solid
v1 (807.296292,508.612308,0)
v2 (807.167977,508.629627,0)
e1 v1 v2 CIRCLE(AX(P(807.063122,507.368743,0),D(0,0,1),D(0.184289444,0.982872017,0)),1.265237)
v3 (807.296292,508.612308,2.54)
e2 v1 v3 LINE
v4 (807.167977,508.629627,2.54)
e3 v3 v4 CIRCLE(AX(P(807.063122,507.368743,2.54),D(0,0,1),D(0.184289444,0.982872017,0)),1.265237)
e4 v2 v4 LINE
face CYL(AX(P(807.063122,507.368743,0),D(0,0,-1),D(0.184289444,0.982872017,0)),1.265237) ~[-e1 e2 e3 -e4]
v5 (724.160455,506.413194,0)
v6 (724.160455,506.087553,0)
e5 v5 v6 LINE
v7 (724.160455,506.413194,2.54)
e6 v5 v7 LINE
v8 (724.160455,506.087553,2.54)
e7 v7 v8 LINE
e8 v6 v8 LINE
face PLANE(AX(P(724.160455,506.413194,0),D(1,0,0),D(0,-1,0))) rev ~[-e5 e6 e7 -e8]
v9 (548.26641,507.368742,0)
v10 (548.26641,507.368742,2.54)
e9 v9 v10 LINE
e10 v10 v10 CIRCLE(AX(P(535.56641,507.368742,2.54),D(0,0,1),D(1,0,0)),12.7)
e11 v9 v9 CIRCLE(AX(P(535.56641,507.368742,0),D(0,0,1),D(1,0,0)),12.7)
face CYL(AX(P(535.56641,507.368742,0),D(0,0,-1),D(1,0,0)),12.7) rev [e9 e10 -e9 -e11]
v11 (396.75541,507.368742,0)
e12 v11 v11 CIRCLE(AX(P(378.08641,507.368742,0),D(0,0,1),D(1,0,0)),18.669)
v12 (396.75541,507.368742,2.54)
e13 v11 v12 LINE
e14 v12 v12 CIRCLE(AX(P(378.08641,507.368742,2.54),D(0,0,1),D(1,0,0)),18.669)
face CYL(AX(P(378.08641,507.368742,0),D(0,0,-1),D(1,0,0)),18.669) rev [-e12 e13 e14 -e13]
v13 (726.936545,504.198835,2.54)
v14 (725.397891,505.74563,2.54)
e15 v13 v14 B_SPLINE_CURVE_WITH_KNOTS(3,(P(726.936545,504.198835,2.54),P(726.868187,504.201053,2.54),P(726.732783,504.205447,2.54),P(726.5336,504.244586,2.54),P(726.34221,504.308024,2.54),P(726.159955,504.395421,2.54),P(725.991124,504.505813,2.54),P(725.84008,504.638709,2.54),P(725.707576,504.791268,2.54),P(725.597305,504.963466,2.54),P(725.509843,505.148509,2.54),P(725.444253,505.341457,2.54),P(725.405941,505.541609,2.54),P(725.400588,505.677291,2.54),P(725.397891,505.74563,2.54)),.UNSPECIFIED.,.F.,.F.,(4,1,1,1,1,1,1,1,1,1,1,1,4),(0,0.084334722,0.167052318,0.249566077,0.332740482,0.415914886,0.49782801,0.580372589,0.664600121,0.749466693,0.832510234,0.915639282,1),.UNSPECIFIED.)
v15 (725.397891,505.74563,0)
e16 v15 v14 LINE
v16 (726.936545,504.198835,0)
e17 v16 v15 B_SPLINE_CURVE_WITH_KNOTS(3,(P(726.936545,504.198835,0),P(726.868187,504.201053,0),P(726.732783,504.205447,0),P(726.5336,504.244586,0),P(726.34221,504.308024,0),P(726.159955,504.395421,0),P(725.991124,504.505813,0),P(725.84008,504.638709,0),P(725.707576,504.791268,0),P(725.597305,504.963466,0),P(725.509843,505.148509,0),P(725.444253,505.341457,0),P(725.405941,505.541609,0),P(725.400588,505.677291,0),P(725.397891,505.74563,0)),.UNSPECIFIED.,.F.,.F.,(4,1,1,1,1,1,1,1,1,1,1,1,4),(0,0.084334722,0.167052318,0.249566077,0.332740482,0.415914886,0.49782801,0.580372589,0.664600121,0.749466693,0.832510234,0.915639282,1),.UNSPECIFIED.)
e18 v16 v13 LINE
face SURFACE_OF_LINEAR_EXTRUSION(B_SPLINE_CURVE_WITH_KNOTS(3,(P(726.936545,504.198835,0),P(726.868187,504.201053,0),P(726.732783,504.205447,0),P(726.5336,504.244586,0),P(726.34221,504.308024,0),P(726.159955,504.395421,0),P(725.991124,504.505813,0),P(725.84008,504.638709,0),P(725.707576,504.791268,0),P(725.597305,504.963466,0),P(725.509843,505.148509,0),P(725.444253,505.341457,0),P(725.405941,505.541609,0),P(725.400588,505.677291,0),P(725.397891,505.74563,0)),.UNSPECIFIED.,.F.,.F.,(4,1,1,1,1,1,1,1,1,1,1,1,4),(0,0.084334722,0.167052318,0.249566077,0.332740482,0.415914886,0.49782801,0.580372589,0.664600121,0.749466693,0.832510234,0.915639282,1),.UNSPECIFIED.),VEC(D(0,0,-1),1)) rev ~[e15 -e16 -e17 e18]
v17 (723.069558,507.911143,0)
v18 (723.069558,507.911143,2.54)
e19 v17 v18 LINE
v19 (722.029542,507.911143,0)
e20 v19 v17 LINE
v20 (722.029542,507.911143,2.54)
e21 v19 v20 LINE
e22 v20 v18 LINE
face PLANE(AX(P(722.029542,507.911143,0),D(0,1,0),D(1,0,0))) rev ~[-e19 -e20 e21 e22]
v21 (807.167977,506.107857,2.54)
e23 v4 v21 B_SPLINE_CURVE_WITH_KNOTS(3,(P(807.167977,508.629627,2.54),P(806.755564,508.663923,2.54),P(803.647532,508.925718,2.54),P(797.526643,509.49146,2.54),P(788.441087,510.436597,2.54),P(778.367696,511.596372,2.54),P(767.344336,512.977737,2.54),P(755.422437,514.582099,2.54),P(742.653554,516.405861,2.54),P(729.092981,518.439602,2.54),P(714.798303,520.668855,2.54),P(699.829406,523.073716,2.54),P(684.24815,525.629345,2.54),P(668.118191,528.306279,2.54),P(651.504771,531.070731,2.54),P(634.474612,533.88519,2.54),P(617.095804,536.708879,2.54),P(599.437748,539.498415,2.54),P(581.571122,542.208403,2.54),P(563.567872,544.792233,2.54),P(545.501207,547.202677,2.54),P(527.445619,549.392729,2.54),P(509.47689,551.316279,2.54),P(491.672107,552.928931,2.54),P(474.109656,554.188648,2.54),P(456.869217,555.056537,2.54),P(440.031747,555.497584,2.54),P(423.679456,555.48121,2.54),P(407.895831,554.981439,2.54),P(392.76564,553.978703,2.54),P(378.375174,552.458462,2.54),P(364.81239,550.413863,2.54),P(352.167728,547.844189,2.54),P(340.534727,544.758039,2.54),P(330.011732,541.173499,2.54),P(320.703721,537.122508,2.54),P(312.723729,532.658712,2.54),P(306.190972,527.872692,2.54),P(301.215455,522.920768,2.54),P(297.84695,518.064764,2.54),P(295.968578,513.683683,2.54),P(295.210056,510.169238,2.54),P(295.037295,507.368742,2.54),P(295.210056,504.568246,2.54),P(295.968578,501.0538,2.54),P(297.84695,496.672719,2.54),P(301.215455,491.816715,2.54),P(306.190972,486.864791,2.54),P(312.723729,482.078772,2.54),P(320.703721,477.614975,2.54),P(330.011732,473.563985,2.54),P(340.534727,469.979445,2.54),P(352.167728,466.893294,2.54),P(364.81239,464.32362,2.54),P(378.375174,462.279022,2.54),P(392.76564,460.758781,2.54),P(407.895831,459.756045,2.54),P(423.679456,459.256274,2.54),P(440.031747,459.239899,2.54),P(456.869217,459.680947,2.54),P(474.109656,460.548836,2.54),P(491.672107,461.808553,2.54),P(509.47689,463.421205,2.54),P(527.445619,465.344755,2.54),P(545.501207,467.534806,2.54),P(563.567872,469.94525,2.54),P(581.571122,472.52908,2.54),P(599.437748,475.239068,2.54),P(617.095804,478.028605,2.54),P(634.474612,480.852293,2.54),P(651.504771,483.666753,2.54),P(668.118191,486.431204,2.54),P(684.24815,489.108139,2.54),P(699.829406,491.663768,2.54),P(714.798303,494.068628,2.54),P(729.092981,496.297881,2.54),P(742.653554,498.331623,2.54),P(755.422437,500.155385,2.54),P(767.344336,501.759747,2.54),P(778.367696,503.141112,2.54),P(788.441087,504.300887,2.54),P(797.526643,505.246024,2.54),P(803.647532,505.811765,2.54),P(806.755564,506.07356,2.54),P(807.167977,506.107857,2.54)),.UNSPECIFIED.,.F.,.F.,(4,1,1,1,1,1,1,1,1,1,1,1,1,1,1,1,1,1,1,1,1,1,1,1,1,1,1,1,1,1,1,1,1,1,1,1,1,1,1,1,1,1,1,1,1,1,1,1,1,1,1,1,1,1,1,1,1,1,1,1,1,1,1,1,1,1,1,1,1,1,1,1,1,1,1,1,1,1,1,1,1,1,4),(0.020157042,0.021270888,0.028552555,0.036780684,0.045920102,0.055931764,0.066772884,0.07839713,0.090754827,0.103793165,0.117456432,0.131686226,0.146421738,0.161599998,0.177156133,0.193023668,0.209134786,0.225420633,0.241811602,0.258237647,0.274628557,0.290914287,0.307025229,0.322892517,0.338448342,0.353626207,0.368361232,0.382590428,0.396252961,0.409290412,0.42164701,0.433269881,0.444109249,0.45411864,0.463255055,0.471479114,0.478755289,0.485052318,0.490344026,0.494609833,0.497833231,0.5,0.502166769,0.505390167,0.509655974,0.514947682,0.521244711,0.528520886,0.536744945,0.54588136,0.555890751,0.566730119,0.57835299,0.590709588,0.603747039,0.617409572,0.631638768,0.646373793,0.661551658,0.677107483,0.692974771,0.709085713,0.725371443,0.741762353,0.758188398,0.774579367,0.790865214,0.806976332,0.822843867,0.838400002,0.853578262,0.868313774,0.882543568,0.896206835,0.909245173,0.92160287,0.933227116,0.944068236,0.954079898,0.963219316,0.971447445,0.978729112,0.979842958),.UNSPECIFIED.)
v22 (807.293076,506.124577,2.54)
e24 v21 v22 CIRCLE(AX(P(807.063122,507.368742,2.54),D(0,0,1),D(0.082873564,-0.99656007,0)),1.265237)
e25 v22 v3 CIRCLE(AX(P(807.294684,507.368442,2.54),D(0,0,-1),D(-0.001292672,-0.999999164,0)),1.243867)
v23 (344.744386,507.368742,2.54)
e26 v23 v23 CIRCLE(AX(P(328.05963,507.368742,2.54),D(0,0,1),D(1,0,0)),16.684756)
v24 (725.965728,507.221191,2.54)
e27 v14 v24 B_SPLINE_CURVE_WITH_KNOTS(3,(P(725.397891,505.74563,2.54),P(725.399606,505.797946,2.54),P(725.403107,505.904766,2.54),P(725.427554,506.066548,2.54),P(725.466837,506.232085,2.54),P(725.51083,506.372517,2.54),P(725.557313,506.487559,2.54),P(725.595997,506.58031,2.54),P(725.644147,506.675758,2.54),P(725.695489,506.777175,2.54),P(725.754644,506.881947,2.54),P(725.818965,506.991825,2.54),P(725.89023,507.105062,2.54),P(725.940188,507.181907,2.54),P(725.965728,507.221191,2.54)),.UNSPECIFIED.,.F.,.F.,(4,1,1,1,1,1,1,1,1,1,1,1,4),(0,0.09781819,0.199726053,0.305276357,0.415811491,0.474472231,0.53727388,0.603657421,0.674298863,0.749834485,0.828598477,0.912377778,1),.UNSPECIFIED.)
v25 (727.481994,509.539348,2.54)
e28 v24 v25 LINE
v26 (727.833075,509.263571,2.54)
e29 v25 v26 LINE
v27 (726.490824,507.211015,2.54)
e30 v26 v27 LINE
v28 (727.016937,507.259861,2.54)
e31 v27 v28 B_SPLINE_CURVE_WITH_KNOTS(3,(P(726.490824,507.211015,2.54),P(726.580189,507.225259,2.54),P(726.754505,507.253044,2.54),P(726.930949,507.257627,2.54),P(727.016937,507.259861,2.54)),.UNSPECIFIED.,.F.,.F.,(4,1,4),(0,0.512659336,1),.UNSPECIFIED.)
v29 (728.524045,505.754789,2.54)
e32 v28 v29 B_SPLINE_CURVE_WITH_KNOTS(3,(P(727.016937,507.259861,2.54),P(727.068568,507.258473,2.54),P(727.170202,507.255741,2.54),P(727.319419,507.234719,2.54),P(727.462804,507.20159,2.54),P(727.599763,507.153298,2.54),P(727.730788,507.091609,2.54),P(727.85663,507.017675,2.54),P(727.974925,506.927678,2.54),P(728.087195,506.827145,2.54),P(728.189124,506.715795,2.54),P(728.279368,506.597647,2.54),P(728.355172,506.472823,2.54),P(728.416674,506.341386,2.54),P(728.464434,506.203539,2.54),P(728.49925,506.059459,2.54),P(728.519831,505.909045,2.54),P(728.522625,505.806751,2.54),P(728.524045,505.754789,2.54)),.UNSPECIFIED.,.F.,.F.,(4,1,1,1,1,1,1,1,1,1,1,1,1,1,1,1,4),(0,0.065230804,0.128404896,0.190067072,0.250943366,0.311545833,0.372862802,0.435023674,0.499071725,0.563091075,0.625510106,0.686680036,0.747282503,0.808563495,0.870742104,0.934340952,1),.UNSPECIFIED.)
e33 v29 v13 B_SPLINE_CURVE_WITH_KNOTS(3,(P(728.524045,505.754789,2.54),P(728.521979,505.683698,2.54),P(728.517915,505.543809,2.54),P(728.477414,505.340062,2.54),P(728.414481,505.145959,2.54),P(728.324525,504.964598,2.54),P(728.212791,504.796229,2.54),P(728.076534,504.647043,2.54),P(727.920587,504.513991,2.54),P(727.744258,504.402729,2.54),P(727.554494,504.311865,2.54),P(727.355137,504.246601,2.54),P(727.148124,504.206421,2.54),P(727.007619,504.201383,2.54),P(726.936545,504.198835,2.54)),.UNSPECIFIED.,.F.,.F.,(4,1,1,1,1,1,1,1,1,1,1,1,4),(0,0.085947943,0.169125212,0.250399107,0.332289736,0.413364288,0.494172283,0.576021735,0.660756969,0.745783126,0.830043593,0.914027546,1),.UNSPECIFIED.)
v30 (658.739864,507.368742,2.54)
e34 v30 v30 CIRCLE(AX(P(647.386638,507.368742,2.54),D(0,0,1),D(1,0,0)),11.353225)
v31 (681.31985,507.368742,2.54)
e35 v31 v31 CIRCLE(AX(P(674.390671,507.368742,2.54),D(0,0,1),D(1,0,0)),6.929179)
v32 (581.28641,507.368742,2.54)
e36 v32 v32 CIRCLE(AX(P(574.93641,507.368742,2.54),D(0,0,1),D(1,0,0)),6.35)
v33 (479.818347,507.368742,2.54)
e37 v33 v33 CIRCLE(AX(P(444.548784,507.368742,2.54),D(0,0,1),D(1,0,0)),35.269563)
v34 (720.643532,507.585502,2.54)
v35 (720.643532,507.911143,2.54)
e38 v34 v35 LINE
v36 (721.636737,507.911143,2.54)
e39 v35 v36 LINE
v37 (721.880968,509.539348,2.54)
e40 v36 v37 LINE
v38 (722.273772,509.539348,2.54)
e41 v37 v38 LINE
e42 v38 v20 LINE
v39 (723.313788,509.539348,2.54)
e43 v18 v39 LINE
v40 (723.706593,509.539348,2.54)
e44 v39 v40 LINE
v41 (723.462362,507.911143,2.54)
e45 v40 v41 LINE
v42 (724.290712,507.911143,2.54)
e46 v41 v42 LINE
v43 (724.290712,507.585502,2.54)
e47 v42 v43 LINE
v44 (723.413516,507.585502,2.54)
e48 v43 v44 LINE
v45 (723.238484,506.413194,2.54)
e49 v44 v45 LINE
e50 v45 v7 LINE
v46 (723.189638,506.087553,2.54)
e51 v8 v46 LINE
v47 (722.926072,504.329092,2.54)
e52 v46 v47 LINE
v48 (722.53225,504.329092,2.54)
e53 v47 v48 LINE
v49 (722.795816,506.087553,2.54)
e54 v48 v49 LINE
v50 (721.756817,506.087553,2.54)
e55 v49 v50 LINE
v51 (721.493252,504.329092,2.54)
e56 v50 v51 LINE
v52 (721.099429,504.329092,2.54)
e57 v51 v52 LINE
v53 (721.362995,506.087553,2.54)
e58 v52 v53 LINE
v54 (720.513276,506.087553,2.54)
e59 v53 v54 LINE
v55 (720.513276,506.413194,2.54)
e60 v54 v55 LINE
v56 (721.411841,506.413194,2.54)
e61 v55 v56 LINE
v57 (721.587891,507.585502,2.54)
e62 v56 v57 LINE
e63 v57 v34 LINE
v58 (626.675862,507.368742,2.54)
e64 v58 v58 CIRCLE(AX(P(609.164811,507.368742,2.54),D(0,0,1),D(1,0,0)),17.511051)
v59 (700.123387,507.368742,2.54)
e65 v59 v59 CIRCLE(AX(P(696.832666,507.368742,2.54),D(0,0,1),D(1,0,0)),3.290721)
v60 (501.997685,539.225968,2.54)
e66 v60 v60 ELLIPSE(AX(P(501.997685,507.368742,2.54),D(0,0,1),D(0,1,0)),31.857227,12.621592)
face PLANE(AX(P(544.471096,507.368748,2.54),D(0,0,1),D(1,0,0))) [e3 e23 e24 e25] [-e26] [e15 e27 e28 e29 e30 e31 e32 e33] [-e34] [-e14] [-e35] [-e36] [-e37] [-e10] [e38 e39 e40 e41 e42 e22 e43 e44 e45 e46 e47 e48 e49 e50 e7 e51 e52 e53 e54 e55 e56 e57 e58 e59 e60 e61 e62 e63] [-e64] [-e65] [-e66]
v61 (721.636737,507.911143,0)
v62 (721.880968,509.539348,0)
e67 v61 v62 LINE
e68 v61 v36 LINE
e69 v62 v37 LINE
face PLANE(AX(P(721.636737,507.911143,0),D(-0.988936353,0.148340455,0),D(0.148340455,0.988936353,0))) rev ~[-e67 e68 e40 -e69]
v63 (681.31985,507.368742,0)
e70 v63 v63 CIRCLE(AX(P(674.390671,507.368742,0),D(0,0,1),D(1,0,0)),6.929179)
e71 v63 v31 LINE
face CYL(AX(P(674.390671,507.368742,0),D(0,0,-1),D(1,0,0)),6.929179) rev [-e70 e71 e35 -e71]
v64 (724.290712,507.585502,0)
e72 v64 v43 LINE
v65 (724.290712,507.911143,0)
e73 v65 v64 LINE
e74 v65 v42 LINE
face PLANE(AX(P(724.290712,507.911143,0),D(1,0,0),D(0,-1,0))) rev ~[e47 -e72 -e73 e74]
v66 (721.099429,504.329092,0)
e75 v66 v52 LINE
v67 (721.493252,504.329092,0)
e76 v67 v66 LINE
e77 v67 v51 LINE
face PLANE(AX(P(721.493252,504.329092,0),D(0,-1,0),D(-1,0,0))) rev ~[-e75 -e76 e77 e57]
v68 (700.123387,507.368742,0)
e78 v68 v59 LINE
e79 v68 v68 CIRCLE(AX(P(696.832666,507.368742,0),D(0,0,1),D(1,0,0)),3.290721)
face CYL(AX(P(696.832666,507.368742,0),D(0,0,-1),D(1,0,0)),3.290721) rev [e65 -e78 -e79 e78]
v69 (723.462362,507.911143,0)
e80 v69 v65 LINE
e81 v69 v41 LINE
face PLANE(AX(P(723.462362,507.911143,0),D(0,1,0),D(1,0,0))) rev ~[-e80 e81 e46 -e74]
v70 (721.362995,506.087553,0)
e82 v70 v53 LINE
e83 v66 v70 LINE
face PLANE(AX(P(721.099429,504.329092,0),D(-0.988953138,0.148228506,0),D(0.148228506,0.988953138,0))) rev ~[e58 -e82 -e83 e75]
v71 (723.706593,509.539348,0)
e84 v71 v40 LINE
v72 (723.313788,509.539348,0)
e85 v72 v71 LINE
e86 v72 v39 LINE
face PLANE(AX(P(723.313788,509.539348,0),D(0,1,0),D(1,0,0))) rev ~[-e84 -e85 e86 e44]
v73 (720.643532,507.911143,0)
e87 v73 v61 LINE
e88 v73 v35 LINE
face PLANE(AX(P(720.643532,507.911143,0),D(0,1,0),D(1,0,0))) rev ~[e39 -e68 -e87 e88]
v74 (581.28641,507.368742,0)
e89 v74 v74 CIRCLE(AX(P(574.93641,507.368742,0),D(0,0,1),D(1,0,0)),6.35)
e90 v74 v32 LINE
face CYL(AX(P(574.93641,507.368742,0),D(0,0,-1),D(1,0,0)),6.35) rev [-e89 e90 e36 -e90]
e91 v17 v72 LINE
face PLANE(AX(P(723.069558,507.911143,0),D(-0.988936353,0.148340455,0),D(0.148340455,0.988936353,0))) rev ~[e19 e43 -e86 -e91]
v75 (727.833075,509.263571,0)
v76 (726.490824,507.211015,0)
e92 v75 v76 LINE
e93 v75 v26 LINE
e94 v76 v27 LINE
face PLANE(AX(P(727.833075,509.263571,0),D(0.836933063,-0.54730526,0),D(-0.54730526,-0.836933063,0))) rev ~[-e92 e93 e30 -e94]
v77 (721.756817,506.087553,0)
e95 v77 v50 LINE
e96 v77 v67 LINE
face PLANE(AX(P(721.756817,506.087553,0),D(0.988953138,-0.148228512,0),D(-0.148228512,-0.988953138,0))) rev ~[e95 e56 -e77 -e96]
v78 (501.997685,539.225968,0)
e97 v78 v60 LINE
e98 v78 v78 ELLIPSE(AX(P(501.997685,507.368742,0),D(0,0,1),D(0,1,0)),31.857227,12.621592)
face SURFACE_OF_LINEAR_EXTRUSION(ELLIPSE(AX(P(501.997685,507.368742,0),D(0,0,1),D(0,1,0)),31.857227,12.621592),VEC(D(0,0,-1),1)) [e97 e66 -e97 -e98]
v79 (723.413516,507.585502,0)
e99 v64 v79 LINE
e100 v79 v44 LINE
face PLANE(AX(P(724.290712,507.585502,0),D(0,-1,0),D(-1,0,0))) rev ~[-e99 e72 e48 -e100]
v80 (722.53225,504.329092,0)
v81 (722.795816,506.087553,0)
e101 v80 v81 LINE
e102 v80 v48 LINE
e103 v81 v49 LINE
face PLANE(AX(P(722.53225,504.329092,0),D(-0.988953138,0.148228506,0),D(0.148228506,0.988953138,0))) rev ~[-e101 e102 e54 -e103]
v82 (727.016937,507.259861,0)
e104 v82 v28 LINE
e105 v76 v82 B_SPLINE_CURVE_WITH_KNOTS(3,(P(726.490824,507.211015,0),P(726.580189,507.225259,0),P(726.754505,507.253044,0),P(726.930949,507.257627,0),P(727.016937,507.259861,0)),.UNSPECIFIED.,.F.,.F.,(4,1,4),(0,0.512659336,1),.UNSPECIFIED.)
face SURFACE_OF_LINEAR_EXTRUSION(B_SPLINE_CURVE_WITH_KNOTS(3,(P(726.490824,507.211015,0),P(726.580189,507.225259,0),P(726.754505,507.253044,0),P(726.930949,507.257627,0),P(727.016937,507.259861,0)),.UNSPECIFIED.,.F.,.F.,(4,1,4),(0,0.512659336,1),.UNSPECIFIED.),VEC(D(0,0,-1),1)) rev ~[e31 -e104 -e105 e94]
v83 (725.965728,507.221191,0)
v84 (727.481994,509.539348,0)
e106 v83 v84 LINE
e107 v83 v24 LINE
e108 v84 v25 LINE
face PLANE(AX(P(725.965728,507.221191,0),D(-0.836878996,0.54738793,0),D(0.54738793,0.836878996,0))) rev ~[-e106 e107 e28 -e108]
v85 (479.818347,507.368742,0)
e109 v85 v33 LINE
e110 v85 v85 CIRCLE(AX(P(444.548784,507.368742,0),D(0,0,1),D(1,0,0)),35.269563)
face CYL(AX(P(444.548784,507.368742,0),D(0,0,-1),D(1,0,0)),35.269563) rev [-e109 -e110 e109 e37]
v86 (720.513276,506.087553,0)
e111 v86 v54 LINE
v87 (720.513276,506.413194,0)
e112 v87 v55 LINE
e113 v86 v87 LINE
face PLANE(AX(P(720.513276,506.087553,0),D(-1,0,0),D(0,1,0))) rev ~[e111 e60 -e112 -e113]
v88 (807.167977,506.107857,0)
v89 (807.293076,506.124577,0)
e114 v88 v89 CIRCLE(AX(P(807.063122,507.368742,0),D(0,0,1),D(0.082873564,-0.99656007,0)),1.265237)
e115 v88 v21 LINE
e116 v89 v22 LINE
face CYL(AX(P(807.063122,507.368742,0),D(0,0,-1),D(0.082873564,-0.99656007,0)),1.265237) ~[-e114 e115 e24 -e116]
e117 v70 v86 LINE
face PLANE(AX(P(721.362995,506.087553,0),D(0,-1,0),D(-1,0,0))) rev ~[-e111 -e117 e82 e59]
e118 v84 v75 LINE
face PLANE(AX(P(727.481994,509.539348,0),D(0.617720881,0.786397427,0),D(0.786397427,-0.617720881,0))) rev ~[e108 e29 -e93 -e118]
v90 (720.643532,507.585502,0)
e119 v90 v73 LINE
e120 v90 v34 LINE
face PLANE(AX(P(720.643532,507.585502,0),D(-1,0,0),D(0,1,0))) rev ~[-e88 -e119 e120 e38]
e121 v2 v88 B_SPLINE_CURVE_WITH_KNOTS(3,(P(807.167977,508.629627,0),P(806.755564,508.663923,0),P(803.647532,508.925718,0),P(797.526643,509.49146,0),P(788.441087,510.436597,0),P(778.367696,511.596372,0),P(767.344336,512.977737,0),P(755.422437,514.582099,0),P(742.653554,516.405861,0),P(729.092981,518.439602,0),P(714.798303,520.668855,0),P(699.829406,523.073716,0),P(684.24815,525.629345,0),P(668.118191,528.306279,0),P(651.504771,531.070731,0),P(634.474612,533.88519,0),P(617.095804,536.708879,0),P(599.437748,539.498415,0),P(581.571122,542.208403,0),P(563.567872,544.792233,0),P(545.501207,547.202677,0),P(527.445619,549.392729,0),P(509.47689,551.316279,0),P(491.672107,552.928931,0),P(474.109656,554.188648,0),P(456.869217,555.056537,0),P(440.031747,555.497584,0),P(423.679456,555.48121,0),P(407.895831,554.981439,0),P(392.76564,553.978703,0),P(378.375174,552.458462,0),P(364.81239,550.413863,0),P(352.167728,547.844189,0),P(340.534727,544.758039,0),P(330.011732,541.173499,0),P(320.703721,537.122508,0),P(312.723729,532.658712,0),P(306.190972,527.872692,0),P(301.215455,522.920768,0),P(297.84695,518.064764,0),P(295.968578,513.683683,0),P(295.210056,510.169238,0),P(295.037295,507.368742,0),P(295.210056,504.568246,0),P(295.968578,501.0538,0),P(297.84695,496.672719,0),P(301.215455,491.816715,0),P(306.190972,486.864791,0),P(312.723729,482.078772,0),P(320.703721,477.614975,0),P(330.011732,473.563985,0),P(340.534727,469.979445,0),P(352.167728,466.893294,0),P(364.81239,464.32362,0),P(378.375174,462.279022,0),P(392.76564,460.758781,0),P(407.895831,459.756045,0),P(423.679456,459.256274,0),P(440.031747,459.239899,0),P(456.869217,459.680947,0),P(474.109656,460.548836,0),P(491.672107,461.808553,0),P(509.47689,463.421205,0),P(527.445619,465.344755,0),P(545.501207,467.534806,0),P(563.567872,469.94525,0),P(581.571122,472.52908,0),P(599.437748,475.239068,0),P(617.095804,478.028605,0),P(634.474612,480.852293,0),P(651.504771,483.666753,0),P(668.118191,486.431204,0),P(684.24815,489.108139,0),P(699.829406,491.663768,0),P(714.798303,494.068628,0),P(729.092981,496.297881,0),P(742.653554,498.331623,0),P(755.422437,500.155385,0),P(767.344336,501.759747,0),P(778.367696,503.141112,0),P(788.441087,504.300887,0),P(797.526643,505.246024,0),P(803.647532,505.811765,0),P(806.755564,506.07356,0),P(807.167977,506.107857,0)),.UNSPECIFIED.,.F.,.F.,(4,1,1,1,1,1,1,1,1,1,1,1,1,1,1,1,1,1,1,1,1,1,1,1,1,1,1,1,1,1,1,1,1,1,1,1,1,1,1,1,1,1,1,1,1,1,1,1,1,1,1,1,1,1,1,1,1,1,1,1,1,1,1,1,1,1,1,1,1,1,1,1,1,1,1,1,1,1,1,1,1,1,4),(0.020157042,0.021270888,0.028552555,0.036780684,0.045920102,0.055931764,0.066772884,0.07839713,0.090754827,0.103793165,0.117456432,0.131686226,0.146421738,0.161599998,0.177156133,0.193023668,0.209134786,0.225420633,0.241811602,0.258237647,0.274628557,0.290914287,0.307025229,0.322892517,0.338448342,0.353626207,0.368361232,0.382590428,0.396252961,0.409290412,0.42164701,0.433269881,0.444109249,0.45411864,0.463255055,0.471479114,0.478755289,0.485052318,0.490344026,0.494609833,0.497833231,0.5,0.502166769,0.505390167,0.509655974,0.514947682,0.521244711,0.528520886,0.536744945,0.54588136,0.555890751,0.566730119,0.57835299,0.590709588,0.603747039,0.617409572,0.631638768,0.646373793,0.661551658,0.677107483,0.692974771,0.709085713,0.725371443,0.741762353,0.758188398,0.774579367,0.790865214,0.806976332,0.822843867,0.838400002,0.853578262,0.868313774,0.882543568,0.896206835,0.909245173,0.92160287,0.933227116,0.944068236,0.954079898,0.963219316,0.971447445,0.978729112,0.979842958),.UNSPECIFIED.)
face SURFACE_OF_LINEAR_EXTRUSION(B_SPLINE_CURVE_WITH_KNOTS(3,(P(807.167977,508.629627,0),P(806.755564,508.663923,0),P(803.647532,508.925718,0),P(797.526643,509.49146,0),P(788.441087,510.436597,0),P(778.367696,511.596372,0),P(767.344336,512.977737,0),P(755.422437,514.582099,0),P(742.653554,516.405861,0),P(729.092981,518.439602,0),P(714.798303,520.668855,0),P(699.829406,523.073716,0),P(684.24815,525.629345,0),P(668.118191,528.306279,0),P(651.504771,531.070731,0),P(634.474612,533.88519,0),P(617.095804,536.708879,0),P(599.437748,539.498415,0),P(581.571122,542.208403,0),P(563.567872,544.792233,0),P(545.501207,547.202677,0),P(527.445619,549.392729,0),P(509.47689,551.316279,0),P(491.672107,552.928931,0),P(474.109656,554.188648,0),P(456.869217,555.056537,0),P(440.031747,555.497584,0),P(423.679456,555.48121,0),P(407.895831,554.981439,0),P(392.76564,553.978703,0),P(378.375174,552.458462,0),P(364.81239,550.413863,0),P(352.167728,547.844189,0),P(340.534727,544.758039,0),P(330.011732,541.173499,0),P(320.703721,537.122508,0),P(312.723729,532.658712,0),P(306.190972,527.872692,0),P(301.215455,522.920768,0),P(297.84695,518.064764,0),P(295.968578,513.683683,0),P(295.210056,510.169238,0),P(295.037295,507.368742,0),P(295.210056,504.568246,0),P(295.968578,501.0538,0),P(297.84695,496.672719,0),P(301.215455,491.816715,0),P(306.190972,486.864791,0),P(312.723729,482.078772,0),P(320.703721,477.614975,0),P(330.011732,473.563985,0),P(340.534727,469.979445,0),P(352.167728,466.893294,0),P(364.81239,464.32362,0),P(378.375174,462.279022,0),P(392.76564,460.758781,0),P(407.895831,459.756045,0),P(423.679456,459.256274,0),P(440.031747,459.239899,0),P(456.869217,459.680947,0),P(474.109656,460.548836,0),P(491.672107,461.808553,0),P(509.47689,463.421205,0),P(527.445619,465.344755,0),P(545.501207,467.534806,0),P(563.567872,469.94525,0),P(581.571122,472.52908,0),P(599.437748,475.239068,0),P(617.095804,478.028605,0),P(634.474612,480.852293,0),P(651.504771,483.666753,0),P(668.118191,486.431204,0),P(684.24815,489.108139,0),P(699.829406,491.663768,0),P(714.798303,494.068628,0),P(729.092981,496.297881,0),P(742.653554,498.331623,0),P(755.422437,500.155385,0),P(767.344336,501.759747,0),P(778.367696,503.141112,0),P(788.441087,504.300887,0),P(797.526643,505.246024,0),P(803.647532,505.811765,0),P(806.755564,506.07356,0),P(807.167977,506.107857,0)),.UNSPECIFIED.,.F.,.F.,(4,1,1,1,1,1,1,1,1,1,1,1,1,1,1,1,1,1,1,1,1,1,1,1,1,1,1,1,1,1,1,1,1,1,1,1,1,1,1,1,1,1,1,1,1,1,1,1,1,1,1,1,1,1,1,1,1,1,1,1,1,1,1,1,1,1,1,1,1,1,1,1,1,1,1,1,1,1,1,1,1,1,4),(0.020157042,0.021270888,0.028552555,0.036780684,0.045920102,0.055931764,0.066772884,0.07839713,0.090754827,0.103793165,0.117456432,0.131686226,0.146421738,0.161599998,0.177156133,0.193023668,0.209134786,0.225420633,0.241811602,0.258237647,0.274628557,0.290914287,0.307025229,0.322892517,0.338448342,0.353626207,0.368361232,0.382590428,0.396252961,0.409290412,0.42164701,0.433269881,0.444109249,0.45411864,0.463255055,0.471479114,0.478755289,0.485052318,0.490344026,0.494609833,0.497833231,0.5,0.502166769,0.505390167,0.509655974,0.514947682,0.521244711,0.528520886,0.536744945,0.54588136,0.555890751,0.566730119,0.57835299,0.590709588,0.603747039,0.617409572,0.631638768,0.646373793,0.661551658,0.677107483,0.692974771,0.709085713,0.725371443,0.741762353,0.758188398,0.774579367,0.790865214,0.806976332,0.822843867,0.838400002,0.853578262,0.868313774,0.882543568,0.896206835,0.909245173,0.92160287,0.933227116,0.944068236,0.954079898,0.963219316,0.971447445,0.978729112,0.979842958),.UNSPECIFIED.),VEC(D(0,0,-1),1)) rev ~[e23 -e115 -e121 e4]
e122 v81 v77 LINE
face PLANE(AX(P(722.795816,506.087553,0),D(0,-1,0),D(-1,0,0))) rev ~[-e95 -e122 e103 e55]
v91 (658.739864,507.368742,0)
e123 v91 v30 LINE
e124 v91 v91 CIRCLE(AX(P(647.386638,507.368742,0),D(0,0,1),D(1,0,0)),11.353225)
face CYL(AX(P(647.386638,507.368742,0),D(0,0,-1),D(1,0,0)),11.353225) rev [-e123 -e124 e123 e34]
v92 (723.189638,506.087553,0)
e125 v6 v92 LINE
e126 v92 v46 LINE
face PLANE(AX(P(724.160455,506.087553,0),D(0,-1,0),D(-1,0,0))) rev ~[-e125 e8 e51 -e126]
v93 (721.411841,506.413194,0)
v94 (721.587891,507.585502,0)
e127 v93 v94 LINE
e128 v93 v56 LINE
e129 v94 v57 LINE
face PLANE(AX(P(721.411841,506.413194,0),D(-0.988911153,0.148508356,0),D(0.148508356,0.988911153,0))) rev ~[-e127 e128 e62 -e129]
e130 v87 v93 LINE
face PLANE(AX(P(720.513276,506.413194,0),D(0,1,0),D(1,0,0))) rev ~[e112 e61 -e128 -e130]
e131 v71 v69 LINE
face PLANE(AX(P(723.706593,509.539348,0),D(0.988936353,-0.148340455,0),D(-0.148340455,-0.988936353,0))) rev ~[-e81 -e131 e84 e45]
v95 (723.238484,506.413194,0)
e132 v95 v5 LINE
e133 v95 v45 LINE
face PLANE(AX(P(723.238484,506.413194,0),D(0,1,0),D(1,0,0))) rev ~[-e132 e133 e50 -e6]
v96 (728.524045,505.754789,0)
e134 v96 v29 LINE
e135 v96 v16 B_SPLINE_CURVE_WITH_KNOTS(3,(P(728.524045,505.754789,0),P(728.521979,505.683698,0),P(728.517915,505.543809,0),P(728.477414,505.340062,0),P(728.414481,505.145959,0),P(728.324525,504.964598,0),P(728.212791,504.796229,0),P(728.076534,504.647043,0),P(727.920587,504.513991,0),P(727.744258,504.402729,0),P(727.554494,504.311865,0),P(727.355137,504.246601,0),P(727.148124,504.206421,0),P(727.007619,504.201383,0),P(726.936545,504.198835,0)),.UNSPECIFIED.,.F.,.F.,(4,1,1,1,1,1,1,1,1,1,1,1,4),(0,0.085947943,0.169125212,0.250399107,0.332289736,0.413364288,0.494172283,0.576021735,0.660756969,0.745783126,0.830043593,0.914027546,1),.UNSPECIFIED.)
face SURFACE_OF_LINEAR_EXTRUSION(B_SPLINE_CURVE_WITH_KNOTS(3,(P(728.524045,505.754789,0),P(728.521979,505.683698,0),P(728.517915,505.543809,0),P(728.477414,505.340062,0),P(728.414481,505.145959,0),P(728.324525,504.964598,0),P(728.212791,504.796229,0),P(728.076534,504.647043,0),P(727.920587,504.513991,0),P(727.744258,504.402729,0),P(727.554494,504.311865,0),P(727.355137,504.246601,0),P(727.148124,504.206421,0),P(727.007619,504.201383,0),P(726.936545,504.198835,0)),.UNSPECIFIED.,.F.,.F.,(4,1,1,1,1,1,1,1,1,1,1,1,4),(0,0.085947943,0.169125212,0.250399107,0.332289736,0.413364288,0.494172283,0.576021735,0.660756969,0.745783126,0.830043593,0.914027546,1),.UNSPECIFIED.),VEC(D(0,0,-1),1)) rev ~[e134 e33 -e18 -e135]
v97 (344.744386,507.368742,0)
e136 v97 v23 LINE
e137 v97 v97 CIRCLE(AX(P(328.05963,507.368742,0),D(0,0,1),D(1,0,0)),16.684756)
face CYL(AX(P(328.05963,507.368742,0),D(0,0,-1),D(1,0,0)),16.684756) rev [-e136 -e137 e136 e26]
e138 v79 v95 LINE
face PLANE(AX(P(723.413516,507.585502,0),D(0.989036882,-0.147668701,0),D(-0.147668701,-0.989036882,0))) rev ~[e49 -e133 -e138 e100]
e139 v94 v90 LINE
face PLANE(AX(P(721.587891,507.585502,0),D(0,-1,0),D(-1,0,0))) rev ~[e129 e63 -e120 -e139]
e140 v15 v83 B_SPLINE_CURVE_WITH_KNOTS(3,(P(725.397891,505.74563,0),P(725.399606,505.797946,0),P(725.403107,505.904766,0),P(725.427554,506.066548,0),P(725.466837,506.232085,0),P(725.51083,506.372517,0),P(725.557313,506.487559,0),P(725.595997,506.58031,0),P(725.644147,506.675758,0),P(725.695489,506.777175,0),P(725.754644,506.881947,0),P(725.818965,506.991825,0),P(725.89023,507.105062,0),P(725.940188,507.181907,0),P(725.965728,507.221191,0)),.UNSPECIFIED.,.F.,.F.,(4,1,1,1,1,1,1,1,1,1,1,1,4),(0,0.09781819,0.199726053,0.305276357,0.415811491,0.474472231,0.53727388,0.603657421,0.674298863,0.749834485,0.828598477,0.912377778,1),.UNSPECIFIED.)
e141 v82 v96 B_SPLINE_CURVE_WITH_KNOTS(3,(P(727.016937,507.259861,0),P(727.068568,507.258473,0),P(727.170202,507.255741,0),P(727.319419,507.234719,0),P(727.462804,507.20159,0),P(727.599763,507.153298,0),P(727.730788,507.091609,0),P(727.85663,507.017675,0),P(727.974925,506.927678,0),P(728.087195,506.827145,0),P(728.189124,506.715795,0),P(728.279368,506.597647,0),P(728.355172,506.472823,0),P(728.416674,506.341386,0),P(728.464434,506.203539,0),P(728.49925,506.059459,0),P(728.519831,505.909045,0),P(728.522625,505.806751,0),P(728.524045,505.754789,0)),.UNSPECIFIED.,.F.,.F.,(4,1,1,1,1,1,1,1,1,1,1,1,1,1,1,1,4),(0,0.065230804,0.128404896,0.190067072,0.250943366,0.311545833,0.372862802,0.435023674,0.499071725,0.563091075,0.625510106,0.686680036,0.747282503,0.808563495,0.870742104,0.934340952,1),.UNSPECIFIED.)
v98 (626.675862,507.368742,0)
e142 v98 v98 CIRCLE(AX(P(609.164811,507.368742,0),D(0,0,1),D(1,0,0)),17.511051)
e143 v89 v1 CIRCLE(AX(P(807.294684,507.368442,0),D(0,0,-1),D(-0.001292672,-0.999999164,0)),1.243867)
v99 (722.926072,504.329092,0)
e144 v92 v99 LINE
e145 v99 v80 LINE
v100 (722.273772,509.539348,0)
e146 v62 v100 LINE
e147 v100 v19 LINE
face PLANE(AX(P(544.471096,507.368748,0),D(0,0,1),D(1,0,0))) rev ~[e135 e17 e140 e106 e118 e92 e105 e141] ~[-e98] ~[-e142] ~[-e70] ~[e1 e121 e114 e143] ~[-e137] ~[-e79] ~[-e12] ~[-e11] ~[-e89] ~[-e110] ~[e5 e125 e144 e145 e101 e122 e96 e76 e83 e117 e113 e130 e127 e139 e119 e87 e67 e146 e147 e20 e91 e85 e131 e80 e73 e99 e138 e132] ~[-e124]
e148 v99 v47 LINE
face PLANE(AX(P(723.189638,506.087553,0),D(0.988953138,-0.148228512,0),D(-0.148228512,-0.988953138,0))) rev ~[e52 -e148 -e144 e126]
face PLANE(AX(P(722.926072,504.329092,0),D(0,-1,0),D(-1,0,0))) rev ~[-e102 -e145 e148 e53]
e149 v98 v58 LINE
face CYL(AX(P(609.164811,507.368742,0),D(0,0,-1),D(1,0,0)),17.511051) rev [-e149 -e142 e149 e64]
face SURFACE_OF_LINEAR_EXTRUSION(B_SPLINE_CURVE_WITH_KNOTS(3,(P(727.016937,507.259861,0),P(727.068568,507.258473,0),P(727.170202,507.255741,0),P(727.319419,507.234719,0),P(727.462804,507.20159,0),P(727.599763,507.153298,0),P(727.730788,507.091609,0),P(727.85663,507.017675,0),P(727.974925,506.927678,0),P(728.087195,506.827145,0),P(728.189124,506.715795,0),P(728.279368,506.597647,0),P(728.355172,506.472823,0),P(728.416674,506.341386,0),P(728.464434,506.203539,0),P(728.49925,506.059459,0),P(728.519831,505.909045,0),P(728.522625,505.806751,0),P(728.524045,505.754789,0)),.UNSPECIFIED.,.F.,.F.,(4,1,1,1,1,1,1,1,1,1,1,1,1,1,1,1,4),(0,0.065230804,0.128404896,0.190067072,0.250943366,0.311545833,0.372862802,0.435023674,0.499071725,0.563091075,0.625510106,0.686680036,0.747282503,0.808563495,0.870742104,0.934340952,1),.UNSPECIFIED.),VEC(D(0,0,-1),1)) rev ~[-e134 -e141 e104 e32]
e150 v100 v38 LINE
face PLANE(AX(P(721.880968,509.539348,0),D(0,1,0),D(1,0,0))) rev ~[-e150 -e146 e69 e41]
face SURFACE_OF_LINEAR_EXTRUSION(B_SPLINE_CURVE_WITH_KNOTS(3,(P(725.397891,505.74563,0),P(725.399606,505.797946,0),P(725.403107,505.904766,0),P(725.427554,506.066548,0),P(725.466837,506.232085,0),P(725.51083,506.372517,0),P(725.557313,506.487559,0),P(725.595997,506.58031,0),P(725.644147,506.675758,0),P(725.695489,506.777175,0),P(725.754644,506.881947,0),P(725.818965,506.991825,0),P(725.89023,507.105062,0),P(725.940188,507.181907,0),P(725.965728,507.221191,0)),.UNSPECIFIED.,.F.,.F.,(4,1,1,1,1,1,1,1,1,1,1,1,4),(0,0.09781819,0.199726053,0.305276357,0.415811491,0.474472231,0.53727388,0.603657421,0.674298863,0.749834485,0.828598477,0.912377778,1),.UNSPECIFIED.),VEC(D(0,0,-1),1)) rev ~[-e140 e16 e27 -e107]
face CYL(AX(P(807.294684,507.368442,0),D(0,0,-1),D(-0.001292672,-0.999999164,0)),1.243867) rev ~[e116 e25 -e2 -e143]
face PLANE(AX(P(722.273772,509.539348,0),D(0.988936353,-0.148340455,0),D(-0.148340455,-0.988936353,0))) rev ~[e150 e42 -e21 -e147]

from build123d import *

# Parameters (mm, degrees)
SKETCH2_R           = 16.684756317
SKETCH2_R_2         = 3.290720854
SKETCH2_R_3         = 6.929178572
SKETCH2_R_4         = 11.353225487
SKETCH2_R_5         = 12.7
SKETCH2_R_6         = 18.669
SKETCH2_R_7         = 35.269562724
SKETCH2_R_8         = 17.51105103
SKETCH2_R_9         = 6.35
SKETCH2_RX          = 31.857226633
SKETCH2_RY          = 12.621591574
BOSS_EXTRUDE1_DEPTH = 2.54


with BuildPart() as part:
    # Sketch2 → Boss-Extrude1 (new body)
    with BuildSketch(Plane.XY):
        with BuildLine():
            ThreePointArc((807.167977043, 506.107856593), (807.230735315, 506.114655719), (807.293076359, 506.124576558))
            ThreePointArc((807.293076359, 506.124576558), (806.050818396, 507.370050345), (807.296292183, 508.612308308))
            ThreePointArc((807.296292183, 508.612308308), (807.232356297, 508.622610098), (807.167977043, 508.629626938))
            add(Edge.make_bspline(
                [(807.167977043, 508.629626938), (806.75556387, 508.66392306), (803.647531721, 508.925718255), (797.52664268, 509.491460006), (788.441087145, 510.436596938), (778.367696007, 511.596371668), (767.344336409, 512.977736789), (755.422437077, 514.582098777), (742.653553938, 516.405860709), (729.09298087, 518.439602072), (714.798302658, 520.668855208), (699.829405642, 523.073715763), (684.248150263, 525.629344831), (668.118191248, 528.306279308), (651.504771353, 531.070730691), (634.474612041, 533.885190092), (617.095803744, 536.708878542), (599.437748459, 539.498415452), (581.571122135, 542.208403286), (563.567871851, 544.792233391), (545.501207393, 547.202677352), (527.445619023, 549.392728793), (509.476889849, 551.316278974), (491.672107407, 552.928931019), (474.109656298, 554.188647551), (456.869216665, 555.056536763), (440.031746858, 555.497584163), (423.679455897, 555.481209943), (407.895831124, 554.98143874), (392.765639508, 553.978702977), (378.375173965, 552.458462002), (364.812390016, 550.413863121), (352.167727941, 547.844189114), (340.534726814, 544.758038591), (330.011732264, 541.173498728), (320.703721418, 537.122508379), (312.723728741, 532.658711673), (306.190971712, 527.872692216), (301.215454505, 522.92076825), (297.846949829, 518.064764241), (295.968577745, 513.683683147), (295.210055594, 510.16923767), (295.03729534, 507.368741768), (295.210055594, 504.568245866), (295.968577745, 501.053800388), (297.846949829, 496.672719294), (301.215454505, 491.816715285), (306.190971712, 486.864791319), (312.723728741, 482.078771863), (320.703721418, 477.614975157), (330.011732264, 473.563984807), (340.534726814, 469.979444944), (352.167727941, 466.893294421), (364.812390016, 464.323620414), (378.375173965, 462.279021534), (392.765639508, 460.758780559), (407.895831124, 459.756044796), (423.679455897, 459.256273592), (440.031746858, 459.239899372), (456.869216665, 459.680946773), (474.109656298, 460.548835985), (491.672107407, 461.808552516), (509.476889849, 463.421204561), (527.445619023, 465.344754743), (545.501207393, 467.534806183), (563.567871851, 469.945250145), (581.571122135, 472.52908025), (599.437748459, 475.239068083), (617.095803744, 478.028604993), (634.474612041, 480.852293444), (651.504771353, 483.666752844), (668.118191248, 486.431204228), (684.248150263, 489.108138705), (699.829405642, 491.663767772), (714.798302658, 494.068628328), (729.09298087, 496.297881464), (742.653553938, 498.331622827), (755.422437077, 500.155384759), (767.344336409, 501.759746747), (778.367696007, 503.141111868), (788.441087145, 504.300886597), (797.52664268, 505.24602353), (803.647531721, 505.811765281), (806.75556387, 506.073560475), (807.167977043, 506.107856593)],
                knots=[0.020157042, 0.020157042, 0.020157042, 0.020157042, 0.021270888, 0.028552555, 0.036780684, 0.045920102, 0.055931764, 0.066772884, 0.07839713, 0.090754827, 0.103793165, 0.117456432, 0.131686226, 0.146421738, 0.161599998, 0.177156133, 0.193023668, 0.209134786, 0.225420633, 0.241811602, 0.258237647, 0.274628557, 0.290914287, 0.307025229, 0.322892517, 0.338448342, 0.353626207, 0.368361232, 0.382590428, 0.396252961, 0.409290412, 0.42164701, 0.433269881, 0.444109249, 0.45411864, 0.463255055, 0.471479114, 0.478755289, 0.485052318, 0.490344026, 0.494609833, 0.497833231, 0.5, 0.502166769, 0.505390167, 0.509655974, 0.514947682, 0.521244711, 0.528520886, 0.536744945, 0.54588136, 0.555890751, 0.566730119, 0.57835299, 0.590709588, 0.603747039, 0.617409572, 0.631638768, 0.646373793, 0.661551658, 0.677107483, 0.692974771, 0.709085713, 0.725371443, 0.741762353, 0.758188398, 0.774579367, 0.790865214, 0.806976332, 0.822843867, 0.838400002, 0.853578262, 0.868313774, 0.882543568, 0.896206835, 0.909245173, 0.92160287, 0.933227116, 0.944068236, 0.954079898, 0.963219316, 0.971447445, 0.978729112, 0.979842958, 0.979842958, 0.979842958, 0.979842958], degree=3))
        make_face()
        with Locations((328.059630077, 507.368741765)):
            Circle(SKETCH2_R, mode=Mode.SUBTRACT)
        with Locations((696.832666428, 507.368741765)):
            Circle(SKETCH2_R_2, mode=Mode.SUBTRACT)
        with Locations((674.39067116, 507.368741765)):
            Circle(SKETCH2_R_3, mode=Mode.SUBTRACT)
        with Locations((647.386638422, 507.368741765)):
            Circle(SKETCH2_R_4, mode=Mode.SUBTRACT)
        with Locations((535.566410166, 507.368741765)):
            Circle(SKETCH2_R_5, mode=Mode.SUBTRACT)
        with Locations((378.086410166, 507.368741765)):
            Circle(SKETCH2_R_6, mode=Mode.SUBTRACT)
        with Locations((444.548784388, 507.368741765)):
            Circle(SKETCH2_R_7, mode=Mode.SUBTRACT)
        with Locations((609.164810502, 507.368741765)):
            Circle(SKETCH2_R_8, mode=Mode.SUBTRACT)
        with Locations((574.936410166, 507.368741765)):
            Circle(SKETCH2_R_9, mode=Mode.SUBTRACT)
        with Locations(Location((501.997685248, 507.368741765), (0, 0, 90))):
            Ellipse(SKETCH2_RX, SKETCH2_RY, mode=Mode.SUBTRACT)
        with BuildLine():
            Line((727.833075314, 509.263570782), (726.490823713, 507.211014695))
            add(Edge.make_bspline(
                [(726.490823713, 507.211014695), (726.580188568, 507.225258813), (726.75450483, 507.253043575), (726.930949048, 507.257627108), (727.01693749, 507.259860849)],
                knots=[0, 0, 0, 0, 0.512659336, 1, 1, 1, 1], degree=3))
            add(Edge.make_bspline(
                [(727.01693749, 507.259860849), (727.068568428, 507.258473121), (727.170202392, 507.25574142), (727.319419122, 507.234719146), (727.462804206, 507.201590126), (727.599763346, 507.153297823), (727.730788132, 507.091608692), (727.856630466, 507.01767456), (727.974924813, 506.927677744), (728.087194524, 506.827144608), (728.18912414, 506.715795385), (728.279368243, 506.597647159), (728.355171701, 506.472823023), (728.416674421, 506.341386201), (728.464433502, 506.203539298), (728.499249856, 506.059458684), (728.519830522, 505.909045006), (728.522625234, 505.806750969), (728.524044862, 505.754788734)],
                knots=[0, 0, 0, 0, 0.065230804, 0.128404896, 0.190067072, 0.250943366, 0.311545833, 0.372862802, 0.435023674, 0.499071725, 0.563091075, 0.625510106, 0.686680036, 0.747282503, 0.808563495, 0.870742104, 0.934340952, 1, 1, 1, 1], degree=3))
            add(Edge.make_bspline(
                [(728.524044862, 505.754788734), (728.521979327, 505.683698192), (728.517914843, 505.54380883), (728.477414476, 505.340062068), (728.414481049, 505.145958874), (728.324525093, 504.964598271), (728.212790663, 504.796228827), (728.076534043, 504.647043066), (727.920587494, 504.513990554), (727.744258084, 504.402728947), (727.554494011, 504.31186509), (727.355137397, 504.246601253), (727.148124282, 504.206420675), (727.007619308, 504.201383343), (726.936544862, 504.198835208)],
                knots=[0, 0, 0, 0, 0.085947943, 0.169125212, 0.250399107, 0.332289736, 0.413364288, 0.494172283, 0.576021735, 0.660756969, 0.745783126, 0.830043593, 0.914027546, 1, 1, 1, 1], degree=3))
            add(Edge.make_bspline(
                [(726.936544862, 504.198835208), (726.868187365, 504.20105329), (726.732783132, 504.205446921), (726.533599534, 504.244586053), (726.342209783, 504.308023791), (726.159954796, 504.395420515), (725.991123735, 504.5058131), (725.840079897, 504.638709208), (725.707576407, 504.791268089), (725.597304671, 504.963466078), (725.509843426, 505.148508645), (725.444253478, 505.341457432), (725.405941216, 505.541609406), (725.400587539, 505.677290602), (725.397891016, 505.74563008)],
                knots=[0, 0, 0, 0, 0.084334722, 0.167052318, 0.249566077, 0.332740482, 0.415914886, 0.49782801, 0.580372589, 0.664600121, 0.749466693, 0.832510234, 0.915639282, 1, 1, 1, 1], degree=3))
            add(Edge.make_bspline(
                [(725.397891016, 505.74563008), (725.399605799, 505.797946218), (725.403107058, 505.904765776), (725.427554036, 506.066547851), (725.466836653, 506.232084849), (725.51082981, 506.37251665), (725.557312696, 506.487559088), (725.595996953, 506.58031044), (725.644146639, 506.67575794), (725.695488575, 506.777174532), (725.754644259, 506.881946532), (725.818965259, 506.991825), (725.890229895, 507.10506245), (725.940188303, 507.181907167), (725.965727553, 507.221190981)],
                knots=[0, 0, 0, 0, 0.09781819, 0.199726053, 0.305276357, 0.415811491, 0.474472231, 0.53727388, 0.603657421, 0.674298863, 0.749834485, 0.828598477, 0.912377778, 1, 1, 1, 1], degree=3))
            Line((725.965727553, 507.221190981), (727.481993578, 509.539348031))
            Line((727.481993578, 509.539348031), (727.833075314, 509.263570782))
        make_face(mode=Mode.SUBTRACT)
        Polygon((724.290711527, 507.58550187), (723.413516015, 507.58550187), (723.238483965, 506.413194182), (724.160455115, 506.413194182), (724.160455115, 506.087553157), (723.189637814, 506.087553157), (722.926072103, 504.329091619), (722.53224999, 504.329091619), (722.795815691, 506.087553157), (721.756817301, 506.087553157), (721.49325159, 504.329091619), (721.099429477, 504.329091619), (721.362995178, 506.087553157), (720.513275628, 506.087553157), (720.513275628, 506.413194182), (721.411841339, 506.413194182), (721.587891015, 507.58550187), (720.64353204, 507.58550187), (720.64353204, 507.911142896), (721.636737166, 507.911142896), (721.88096794, 509.539348031), (722.273772427, 509.539348031), (722.029541653, 507.911142896), (723.069557678, 507.911142896), (723.313788452, 509.539348031), (723.70659294, 509.539348031), (723.462362166, 507.911142896), (724.290711527, 507.911142896), align=None, mode=Mode.SUBTRACT)
    extrude(amount=BOSS_EXTRUDE1_DEPTH)


solid = part.part
